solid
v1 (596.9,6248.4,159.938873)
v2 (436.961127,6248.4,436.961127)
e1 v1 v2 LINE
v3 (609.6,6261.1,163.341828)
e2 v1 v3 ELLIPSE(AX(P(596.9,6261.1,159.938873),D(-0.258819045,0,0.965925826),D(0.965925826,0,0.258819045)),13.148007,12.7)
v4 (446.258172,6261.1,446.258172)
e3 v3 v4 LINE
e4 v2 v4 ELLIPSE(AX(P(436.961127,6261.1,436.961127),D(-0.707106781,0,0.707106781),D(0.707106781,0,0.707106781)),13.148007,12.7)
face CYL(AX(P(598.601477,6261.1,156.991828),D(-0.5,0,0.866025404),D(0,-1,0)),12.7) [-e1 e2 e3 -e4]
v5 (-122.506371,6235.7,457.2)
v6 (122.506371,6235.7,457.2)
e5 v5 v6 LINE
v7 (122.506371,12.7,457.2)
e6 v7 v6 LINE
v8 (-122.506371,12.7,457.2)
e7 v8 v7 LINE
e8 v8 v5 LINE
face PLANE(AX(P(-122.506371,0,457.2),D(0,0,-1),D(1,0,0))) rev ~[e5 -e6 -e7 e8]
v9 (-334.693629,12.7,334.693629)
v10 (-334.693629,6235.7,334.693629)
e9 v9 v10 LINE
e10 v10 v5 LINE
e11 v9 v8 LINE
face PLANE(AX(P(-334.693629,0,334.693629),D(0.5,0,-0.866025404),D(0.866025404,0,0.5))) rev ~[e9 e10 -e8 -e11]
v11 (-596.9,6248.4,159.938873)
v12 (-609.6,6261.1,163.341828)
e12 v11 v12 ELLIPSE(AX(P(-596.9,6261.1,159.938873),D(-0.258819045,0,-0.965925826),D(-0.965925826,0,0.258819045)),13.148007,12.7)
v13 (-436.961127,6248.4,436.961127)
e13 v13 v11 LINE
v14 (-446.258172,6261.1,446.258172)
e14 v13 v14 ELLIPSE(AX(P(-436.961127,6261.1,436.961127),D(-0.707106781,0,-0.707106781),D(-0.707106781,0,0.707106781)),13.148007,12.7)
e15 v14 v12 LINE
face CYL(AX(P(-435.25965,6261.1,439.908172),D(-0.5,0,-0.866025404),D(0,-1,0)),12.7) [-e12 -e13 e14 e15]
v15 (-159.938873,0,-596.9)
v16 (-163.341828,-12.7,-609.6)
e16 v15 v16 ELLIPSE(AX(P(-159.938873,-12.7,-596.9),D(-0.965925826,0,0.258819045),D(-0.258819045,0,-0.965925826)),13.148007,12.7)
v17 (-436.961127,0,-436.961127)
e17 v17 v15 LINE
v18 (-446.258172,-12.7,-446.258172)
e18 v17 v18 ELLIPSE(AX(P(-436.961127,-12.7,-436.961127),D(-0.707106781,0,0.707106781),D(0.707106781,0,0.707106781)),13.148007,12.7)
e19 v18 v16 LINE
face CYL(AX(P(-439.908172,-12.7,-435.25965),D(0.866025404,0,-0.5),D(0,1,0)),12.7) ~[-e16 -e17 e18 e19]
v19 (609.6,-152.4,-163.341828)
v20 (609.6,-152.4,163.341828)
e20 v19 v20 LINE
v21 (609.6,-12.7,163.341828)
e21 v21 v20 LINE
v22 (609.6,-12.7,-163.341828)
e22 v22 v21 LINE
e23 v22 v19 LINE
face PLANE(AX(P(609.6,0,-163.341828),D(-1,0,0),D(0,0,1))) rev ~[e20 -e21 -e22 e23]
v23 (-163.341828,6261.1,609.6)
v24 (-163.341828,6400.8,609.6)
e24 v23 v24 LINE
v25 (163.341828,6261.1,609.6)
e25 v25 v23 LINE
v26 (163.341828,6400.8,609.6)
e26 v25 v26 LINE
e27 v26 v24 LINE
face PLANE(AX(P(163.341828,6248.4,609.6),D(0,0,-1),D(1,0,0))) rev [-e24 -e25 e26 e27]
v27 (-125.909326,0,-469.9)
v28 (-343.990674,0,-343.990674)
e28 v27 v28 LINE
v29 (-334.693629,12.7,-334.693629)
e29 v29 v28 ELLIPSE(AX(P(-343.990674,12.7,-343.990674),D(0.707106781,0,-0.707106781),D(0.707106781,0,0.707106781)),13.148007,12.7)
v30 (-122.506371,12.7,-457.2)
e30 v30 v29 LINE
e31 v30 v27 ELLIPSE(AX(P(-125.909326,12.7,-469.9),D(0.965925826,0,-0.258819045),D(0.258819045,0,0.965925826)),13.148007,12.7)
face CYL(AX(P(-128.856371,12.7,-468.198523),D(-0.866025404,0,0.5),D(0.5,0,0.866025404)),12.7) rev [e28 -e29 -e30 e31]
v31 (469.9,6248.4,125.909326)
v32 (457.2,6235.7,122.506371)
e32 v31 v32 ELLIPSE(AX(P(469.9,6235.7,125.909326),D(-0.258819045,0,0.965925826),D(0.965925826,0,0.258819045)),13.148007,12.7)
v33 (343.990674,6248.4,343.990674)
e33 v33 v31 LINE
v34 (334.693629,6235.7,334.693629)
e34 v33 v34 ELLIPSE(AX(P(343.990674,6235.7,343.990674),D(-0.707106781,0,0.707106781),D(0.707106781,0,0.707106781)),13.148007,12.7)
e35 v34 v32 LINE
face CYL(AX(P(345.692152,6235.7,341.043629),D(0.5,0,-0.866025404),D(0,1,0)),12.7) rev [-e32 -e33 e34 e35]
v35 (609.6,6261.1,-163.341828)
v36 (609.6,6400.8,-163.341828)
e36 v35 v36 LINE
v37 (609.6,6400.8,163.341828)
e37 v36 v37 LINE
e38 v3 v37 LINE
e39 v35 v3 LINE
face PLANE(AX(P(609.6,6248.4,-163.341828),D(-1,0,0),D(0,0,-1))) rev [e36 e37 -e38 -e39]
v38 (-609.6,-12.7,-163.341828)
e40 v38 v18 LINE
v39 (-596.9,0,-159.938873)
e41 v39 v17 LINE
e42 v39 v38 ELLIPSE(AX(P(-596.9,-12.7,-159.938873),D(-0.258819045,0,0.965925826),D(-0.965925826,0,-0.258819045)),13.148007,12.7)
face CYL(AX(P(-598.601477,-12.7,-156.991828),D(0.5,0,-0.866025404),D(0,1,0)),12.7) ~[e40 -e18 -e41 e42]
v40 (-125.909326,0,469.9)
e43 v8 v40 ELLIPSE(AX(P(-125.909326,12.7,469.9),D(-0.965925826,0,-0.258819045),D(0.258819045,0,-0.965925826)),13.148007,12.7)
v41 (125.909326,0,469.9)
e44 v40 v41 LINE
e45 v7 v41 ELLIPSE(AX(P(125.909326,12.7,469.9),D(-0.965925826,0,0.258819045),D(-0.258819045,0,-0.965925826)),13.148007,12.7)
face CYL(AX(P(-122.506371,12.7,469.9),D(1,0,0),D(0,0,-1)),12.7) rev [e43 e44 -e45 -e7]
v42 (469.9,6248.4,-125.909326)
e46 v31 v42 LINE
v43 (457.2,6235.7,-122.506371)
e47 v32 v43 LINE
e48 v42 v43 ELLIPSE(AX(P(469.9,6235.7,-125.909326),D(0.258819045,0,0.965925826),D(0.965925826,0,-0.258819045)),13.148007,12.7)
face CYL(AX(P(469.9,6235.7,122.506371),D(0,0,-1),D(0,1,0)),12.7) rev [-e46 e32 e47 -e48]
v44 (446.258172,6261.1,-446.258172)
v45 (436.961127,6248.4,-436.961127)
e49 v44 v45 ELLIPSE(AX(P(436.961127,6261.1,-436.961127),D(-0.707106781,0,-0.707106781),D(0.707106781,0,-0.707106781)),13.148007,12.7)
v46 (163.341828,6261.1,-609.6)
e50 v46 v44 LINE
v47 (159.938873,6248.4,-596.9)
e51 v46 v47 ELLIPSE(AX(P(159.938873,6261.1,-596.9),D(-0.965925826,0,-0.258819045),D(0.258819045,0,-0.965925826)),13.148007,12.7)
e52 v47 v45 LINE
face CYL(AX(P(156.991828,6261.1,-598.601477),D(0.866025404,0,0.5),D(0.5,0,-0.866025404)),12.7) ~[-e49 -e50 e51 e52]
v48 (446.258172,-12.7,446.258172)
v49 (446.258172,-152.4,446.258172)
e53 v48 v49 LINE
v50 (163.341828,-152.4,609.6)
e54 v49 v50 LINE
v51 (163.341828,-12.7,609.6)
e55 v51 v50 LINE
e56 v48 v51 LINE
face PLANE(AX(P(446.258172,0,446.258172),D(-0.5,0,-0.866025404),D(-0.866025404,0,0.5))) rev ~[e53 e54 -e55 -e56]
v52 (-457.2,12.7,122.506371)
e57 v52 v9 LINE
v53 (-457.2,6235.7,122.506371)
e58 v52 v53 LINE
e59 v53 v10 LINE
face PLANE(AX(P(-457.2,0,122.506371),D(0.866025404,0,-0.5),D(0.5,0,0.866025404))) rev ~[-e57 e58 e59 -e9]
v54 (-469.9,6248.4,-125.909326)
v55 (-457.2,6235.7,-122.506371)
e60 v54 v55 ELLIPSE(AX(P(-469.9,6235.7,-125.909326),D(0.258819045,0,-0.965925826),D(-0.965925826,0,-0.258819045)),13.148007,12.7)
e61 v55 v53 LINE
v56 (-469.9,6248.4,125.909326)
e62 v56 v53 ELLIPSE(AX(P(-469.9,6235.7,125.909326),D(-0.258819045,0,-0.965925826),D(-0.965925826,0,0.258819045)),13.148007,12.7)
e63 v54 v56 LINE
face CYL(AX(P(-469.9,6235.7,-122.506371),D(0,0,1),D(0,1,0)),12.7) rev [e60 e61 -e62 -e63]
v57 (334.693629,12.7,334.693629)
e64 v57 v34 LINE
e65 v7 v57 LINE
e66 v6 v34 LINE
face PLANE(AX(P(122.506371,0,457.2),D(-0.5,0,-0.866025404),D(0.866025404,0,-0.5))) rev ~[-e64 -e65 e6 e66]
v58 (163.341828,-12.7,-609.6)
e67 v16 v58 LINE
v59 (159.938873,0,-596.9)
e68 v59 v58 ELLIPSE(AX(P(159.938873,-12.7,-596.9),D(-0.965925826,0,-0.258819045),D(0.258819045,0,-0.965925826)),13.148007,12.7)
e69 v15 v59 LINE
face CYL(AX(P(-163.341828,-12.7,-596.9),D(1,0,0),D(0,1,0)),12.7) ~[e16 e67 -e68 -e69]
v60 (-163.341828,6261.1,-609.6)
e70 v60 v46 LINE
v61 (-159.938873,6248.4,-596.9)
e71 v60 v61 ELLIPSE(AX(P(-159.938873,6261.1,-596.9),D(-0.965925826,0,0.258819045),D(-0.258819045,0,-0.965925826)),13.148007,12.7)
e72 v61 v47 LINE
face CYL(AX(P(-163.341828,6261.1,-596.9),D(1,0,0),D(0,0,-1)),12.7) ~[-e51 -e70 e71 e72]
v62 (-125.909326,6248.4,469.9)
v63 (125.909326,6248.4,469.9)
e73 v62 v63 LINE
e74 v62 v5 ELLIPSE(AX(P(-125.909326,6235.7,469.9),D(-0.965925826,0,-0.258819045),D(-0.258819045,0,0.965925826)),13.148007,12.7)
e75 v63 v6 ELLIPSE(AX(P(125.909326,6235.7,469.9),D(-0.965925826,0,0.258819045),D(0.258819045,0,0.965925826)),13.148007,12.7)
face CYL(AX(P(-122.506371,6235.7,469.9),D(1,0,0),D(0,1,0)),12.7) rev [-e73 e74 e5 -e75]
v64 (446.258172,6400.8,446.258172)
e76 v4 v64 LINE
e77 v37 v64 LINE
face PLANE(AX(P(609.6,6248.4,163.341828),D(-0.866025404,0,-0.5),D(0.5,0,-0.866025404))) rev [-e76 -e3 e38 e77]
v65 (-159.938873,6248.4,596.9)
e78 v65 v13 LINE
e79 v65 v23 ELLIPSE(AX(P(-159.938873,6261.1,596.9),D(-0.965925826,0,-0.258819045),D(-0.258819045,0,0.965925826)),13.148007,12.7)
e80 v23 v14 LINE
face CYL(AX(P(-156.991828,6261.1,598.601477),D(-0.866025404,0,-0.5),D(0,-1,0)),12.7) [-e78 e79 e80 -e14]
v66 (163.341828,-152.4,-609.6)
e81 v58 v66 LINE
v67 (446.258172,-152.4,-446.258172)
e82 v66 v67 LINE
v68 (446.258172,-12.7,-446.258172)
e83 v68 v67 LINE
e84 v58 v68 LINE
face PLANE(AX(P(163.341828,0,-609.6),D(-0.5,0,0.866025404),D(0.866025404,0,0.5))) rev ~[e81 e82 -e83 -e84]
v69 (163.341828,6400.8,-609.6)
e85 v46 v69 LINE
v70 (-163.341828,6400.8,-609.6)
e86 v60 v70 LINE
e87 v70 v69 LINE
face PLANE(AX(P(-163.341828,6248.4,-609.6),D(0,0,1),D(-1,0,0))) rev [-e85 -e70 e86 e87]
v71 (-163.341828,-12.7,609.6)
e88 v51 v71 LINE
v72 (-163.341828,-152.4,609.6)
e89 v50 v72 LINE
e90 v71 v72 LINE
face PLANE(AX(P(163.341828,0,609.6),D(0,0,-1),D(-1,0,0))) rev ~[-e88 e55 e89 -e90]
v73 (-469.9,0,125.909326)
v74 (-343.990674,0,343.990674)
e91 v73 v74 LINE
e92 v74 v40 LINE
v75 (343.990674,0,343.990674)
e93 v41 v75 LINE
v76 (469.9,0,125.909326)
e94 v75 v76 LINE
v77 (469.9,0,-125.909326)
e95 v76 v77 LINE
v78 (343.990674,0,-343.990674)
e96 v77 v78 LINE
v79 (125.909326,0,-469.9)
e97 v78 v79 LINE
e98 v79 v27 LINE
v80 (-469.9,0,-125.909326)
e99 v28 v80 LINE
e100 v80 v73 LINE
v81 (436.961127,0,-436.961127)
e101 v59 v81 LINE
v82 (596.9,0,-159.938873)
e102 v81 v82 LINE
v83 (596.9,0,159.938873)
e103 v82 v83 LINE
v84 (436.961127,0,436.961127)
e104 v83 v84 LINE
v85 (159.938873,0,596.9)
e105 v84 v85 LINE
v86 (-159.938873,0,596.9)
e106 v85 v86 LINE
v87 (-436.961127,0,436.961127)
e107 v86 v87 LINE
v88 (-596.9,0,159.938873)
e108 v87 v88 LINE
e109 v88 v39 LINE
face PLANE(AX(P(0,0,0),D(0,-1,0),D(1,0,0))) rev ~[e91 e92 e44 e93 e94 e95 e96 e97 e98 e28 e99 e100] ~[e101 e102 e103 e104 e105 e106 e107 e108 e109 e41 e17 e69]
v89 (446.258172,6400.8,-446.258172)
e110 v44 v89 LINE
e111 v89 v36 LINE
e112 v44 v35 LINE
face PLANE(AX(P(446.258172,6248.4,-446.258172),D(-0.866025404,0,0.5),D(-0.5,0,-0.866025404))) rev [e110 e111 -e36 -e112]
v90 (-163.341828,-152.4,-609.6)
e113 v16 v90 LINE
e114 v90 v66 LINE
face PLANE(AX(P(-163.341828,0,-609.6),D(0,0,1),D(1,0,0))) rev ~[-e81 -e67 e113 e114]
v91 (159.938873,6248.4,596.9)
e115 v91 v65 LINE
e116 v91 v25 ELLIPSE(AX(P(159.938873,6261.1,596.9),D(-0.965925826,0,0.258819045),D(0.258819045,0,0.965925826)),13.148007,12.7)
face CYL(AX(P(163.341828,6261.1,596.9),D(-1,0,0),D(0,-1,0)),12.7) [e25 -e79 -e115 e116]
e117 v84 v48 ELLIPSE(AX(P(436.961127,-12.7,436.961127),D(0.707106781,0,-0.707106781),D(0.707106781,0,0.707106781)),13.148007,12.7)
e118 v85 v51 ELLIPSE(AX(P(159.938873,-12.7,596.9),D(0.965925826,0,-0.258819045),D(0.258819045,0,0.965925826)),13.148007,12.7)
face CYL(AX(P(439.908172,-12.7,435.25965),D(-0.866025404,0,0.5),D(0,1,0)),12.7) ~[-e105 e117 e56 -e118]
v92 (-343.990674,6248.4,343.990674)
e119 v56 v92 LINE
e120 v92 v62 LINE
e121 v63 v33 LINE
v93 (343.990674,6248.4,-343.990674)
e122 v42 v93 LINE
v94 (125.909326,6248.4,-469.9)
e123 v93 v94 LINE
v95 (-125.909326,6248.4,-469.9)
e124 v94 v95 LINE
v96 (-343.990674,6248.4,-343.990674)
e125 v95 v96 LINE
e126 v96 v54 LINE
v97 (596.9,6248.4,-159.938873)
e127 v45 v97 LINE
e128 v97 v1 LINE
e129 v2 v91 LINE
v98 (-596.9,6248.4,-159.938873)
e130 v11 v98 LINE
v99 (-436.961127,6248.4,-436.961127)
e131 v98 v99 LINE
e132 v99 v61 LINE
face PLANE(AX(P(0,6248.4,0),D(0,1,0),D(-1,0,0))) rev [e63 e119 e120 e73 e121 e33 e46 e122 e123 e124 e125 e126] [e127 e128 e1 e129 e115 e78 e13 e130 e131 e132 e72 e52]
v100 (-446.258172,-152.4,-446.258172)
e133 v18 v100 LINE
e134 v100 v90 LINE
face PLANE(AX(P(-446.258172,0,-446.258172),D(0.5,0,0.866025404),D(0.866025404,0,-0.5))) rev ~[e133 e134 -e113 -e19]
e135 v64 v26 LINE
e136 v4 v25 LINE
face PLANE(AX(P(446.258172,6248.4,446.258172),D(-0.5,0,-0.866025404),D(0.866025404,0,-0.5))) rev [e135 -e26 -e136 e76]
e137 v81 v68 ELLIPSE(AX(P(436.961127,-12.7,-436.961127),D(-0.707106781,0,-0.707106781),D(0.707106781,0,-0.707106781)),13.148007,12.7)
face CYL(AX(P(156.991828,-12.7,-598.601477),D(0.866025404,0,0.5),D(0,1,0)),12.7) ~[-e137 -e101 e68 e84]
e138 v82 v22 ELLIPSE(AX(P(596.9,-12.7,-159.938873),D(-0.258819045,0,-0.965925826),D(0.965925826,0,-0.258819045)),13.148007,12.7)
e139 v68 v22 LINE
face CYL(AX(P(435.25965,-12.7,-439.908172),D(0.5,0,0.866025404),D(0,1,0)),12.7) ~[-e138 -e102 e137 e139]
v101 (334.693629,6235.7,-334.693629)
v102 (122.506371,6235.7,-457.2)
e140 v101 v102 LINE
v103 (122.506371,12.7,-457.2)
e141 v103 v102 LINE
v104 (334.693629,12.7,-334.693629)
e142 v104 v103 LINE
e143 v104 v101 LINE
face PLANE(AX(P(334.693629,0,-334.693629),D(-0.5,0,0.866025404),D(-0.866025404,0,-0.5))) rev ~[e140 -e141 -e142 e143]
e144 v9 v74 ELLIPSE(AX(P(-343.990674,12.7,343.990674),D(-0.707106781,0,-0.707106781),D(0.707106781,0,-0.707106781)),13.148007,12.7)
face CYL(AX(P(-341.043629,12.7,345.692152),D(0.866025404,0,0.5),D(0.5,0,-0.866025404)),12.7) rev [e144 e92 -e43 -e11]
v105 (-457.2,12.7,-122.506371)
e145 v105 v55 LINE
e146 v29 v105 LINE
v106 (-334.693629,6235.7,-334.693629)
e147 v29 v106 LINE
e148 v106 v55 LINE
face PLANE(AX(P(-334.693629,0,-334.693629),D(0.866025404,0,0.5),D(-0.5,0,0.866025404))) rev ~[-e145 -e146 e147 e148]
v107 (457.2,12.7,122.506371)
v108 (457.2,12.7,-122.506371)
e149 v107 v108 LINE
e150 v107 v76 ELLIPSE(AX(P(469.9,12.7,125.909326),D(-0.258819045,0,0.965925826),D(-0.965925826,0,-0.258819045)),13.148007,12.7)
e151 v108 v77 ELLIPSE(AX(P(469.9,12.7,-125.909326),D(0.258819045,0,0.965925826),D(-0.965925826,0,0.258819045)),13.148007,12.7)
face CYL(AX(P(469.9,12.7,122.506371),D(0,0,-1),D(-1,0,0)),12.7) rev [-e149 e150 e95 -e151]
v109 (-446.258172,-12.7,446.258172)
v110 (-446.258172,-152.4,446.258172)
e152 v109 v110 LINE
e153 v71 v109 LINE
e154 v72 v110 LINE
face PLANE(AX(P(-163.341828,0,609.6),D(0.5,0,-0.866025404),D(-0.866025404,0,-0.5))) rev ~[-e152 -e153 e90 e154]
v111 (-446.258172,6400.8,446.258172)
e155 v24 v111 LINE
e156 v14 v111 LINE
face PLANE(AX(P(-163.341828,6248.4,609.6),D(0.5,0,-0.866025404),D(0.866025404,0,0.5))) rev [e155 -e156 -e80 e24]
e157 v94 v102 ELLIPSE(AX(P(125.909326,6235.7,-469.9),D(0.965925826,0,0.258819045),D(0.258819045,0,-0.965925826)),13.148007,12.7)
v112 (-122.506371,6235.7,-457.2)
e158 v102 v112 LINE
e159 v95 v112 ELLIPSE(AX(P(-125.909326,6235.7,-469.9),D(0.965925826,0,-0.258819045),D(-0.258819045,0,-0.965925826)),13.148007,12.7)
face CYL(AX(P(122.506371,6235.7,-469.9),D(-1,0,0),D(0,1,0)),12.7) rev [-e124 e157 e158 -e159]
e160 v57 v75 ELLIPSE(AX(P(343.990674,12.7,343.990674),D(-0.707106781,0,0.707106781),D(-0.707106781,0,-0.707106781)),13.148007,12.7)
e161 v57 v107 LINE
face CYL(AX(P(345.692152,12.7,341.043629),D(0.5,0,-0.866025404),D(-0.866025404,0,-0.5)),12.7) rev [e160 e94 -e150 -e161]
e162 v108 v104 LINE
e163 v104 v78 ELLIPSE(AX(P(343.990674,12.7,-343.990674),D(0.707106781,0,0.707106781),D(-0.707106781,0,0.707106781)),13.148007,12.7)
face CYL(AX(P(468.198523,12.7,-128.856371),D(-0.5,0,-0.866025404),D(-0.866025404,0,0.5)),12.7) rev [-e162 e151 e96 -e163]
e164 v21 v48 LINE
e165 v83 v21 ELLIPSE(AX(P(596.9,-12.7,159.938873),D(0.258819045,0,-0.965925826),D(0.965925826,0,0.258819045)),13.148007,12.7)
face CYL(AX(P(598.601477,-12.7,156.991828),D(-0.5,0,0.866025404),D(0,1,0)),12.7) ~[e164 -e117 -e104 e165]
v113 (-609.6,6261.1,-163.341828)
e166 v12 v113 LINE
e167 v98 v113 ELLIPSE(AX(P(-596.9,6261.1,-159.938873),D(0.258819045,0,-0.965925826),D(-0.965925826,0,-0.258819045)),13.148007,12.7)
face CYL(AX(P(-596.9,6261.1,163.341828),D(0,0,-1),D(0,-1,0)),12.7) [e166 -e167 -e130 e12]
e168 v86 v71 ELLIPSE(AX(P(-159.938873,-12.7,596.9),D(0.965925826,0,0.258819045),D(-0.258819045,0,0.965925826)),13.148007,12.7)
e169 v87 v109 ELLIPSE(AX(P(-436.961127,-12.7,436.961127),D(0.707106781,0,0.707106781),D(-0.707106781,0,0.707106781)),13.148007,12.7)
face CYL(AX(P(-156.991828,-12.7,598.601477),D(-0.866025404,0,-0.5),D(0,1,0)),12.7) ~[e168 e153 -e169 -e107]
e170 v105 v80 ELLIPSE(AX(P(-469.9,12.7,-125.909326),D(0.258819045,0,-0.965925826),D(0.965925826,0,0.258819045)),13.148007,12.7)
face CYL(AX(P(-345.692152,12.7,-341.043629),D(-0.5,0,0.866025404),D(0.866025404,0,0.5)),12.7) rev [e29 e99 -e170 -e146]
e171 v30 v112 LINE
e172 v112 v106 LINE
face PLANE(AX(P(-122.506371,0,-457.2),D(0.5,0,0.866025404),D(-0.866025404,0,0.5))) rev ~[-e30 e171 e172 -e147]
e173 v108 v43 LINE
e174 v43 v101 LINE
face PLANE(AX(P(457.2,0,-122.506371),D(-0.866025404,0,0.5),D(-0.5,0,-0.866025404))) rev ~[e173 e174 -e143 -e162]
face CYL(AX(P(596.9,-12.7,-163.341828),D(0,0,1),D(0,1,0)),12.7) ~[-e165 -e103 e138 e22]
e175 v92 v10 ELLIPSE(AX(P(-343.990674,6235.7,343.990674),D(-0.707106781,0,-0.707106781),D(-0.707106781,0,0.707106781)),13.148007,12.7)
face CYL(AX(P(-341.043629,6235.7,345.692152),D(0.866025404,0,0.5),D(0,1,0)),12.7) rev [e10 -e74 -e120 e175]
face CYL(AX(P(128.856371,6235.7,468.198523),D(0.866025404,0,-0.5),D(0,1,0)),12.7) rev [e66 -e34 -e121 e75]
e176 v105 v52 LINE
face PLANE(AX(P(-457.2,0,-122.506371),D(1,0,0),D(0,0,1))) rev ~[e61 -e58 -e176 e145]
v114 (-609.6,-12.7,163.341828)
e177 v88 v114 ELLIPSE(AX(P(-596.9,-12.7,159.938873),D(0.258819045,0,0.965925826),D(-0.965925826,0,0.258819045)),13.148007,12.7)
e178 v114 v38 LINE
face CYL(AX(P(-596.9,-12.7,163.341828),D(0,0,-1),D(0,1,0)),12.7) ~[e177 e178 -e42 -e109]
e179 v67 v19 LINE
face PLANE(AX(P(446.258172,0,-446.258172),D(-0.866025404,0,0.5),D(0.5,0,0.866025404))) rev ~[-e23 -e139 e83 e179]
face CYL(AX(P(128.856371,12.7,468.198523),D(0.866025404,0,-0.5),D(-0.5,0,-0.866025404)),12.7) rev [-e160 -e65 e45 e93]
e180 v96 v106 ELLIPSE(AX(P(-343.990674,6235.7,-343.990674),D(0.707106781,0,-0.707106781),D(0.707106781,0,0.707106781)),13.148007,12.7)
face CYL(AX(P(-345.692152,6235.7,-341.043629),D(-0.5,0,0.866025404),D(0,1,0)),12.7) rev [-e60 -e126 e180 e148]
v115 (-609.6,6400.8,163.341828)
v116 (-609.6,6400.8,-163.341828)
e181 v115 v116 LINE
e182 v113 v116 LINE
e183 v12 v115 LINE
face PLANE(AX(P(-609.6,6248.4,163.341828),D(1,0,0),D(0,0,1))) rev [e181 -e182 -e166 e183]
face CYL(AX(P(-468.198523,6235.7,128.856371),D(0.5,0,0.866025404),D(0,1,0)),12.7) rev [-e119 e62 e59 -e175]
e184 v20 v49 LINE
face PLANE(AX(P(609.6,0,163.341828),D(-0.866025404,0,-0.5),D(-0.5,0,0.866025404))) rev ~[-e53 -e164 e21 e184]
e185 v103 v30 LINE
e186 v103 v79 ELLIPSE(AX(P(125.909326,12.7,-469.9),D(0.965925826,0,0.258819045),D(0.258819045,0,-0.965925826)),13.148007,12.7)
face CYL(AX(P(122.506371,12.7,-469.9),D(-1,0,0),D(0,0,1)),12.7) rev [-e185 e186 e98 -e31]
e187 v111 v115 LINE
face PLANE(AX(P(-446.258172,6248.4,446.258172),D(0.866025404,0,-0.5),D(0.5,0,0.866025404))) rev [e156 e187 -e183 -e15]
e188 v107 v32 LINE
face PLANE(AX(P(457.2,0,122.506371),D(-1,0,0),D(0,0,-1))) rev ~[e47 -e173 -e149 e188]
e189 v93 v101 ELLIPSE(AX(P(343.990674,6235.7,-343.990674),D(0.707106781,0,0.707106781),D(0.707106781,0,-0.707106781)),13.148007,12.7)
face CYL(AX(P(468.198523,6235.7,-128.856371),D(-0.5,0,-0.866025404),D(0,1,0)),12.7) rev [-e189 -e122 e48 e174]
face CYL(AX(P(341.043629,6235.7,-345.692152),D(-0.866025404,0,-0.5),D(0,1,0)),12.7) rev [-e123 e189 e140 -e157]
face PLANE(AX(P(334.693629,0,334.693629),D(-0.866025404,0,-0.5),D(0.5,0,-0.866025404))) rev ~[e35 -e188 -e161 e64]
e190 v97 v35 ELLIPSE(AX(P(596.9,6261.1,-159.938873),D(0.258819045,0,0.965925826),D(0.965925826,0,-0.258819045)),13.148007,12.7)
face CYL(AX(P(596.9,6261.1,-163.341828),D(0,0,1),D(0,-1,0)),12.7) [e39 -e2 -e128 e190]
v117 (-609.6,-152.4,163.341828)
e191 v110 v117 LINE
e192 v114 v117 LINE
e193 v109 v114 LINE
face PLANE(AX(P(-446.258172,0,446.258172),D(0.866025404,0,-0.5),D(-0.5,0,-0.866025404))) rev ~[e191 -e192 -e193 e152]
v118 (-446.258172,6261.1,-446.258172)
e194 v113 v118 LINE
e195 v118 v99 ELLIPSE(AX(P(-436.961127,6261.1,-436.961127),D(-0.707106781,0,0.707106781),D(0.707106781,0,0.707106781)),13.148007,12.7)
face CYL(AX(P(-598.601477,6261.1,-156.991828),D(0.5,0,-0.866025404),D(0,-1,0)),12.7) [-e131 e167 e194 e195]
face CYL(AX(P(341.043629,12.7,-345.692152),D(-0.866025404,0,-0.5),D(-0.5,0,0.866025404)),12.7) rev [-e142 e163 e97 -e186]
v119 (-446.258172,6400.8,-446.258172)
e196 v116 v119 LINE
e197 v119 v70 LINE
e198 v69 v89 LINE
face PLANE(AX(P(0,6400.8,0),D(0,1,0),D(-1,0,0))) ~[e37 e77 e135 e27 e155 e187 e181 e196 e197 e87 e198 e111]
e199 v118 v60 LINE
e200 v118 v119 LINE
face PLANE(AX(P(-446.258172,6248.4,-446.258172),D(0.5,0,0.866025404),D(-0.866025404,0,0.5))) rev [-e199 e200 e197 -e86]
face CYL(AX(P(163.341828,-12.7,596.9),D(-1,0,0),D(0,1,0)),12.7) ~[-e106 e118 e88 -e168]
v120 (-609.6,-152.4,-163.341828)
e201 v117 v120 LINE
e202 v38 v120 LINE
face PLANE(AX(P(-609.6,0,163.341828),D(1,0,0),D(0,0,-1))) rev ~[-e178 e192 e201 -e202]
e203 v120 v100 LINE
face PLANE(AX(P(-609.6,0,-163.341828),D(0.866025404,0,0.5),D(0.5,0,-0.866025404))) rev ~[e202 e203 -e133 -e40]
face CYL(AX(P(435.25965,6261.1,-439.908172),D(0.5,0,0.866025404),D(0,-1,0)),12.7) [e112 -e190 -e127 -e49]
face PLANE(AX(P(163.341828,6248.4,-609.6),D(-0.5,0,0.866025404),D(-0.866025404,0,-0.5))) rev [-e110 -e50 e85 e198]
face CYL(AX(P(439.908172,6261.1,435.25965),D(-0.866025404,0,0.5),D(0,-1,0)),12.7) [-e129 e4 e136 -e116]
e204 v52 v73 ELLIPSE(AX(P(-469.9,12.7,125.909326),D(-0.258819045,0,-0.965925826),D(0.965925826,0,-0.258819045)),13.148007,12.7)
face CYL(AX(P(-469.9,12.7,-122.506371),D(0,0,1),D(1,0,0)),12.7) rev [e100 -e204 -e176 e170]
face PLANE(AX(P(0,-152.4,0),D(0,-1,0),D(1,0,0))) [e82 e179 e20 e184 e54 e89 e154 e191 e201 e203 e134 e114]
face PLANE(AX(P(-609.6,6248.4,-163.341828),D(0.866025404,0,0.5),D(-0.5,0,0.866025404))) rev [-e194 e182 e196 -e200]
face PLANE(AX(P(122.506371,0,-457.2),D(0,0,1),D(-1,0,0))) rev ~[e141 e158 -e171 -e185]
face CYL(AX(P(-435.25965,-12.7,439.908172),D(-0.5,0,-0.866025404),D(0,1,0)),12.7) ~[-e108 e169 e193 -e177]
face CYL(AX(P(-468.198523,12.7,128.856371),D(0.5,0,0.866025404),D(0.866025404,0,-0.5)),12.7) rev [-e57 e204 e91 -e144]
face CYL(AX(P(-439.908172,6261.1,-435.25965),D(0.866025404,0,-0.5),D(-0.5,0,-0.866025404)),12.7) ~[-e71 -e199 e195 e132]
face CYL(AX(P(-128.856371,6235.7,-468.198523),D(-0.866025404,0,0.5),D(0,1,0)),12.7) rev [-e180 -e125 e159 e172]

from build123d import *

# Parameters (mm, degrees)
SUPPORT_BASE_DEPTH   = 6248.4
BOTTOM_EXTRUDE_DEPTH = 152.4
FACE_FILLET_R        = 12.7


with BuildPart() as part:
    # Sketch1 → Support Base (new body)
    with BuildSketch(Plane(origin=(0, 0, 0), x_dir=(1, 0, 0), z_dir=(0, 1, 0))):
        Polygon((-122.50637078, 457.2), (-334.69362922, 334.69362922), (-457.2, 122.50637078), (-457.2, -122.50637078), (-334.69362922, -334.69362922), (-122.50637078, -457.2), (122.50637078, -457.2), (334.69362922, -334.69362922), (457.2, -122.50637078), (457.2, 122.50637078), (334.69362922, 334.69362922), (122.50637078, 457.2), align=None)
    extrude(amount=SUPPORT_BASE_DEPTH)

    # Sketch2 → Bottom Extrude (add)
    with BuildSketch(Plane.XZ):
        Polygon((-163.341827706, -609.6), (163.341827706, -609.6), (446.258172294, -446.258172294), (609.6, -163.341827706), (609.6, 163.341827706), (446.258172294, 446.258172294), (163.341827706, 609.6), (-163.341827706, 609.6), (-446.258172294, 446.258172294), (-609.6, 163.341827706), (-609.6, -163.341827706), (-446.258172294, -446.258172294), align=None)
    bottom_extrude = extrude(amount=BOTTOM_EXTRUDE_DEPTH)

    # Top Extrude: Bottom Extrude across plane
    add(bottom_extrude.mirror(Plane.ZX.offset(3124.2)))

    # Face Fillet
    face_fillet_edges = [part.edges().sort_by_distance(p)[0] for p in [
        (-395.94681461, 6248.4, -228.6),
        (228.6, 0, -395.94681461),
        (395.94681461, 0, -228.6),
        (457.2, 0, 0),
        (395.94681461, 0, 228.6),
        (228.6, 0, 395.94681461),
        (0, 0, 457.2),
        (-457.2, 6248.4, 0),
        (-228.6, 0, 395.94681461),
        (-395.94681461, 0, 228.6),
        (-457.2, 0, 0),
        (-395.94681461, 0, -228.6),
        (-228.6, 0, -395.94681461),
        (0, 0, -457.2),
        (-395.94681461, 6248.4, 228.6),
        (-228.6, 6248.4, 395.94681461),
        (0, 6248.4, 457.2),
        (228.6, 6248.4, 395.94681461),
        (395.94681461, 6248.4, 228.6),
        (457.2, 6248.4, 0),
        (395.94681461, 6248.4, -228.6),
        (-304.8, 0, -527.929086147),
        (0, 0, -609.6),
        (304.8, 0, -527.929086147),
        (527.929086147, 0, -304.8),
        (228.6, 6248.4, -395.94681461),
        (609.6, 0, 0),
        (527.929086147, 0, 304.8),
        (304.8, 0, 527.929086147),
        (0, 0, 609.6),
        (-304.8, 0, 527.929086147),
        (-527.929086147, 0, 304.8),
        (-609.6, 0, 0),
        (0, 6248.4, -457.2),
        (-527.929086147, 0, -304.8),
        (-304.8, 6248.4, -527.929086147),
        (0, 6248.4, -609.6),
        (304.8, 6248.4, -527.929086147),
        (527.929086147, 6248.4, -304.8),
        (609.6, 6248.4, 0),
        (527.929086147, 6248.4, 304.8),
        (304.8, 6248.4, 527.929086147),
        (0, 6248.4, 609.6),
        (-304.8, 6248.4, 527.929086147),
        (-527.929086147, 6248.4, 304.8),
        (-609.6, 6248.4, 0),
        (-228.6, 6248.4, -395.94681461),
        (-527.929086147, 6248.4, -304.8),
    ]]
    fillet(face_fillet_edges, radius=FACE_FILLET_R)


solid = part.part
